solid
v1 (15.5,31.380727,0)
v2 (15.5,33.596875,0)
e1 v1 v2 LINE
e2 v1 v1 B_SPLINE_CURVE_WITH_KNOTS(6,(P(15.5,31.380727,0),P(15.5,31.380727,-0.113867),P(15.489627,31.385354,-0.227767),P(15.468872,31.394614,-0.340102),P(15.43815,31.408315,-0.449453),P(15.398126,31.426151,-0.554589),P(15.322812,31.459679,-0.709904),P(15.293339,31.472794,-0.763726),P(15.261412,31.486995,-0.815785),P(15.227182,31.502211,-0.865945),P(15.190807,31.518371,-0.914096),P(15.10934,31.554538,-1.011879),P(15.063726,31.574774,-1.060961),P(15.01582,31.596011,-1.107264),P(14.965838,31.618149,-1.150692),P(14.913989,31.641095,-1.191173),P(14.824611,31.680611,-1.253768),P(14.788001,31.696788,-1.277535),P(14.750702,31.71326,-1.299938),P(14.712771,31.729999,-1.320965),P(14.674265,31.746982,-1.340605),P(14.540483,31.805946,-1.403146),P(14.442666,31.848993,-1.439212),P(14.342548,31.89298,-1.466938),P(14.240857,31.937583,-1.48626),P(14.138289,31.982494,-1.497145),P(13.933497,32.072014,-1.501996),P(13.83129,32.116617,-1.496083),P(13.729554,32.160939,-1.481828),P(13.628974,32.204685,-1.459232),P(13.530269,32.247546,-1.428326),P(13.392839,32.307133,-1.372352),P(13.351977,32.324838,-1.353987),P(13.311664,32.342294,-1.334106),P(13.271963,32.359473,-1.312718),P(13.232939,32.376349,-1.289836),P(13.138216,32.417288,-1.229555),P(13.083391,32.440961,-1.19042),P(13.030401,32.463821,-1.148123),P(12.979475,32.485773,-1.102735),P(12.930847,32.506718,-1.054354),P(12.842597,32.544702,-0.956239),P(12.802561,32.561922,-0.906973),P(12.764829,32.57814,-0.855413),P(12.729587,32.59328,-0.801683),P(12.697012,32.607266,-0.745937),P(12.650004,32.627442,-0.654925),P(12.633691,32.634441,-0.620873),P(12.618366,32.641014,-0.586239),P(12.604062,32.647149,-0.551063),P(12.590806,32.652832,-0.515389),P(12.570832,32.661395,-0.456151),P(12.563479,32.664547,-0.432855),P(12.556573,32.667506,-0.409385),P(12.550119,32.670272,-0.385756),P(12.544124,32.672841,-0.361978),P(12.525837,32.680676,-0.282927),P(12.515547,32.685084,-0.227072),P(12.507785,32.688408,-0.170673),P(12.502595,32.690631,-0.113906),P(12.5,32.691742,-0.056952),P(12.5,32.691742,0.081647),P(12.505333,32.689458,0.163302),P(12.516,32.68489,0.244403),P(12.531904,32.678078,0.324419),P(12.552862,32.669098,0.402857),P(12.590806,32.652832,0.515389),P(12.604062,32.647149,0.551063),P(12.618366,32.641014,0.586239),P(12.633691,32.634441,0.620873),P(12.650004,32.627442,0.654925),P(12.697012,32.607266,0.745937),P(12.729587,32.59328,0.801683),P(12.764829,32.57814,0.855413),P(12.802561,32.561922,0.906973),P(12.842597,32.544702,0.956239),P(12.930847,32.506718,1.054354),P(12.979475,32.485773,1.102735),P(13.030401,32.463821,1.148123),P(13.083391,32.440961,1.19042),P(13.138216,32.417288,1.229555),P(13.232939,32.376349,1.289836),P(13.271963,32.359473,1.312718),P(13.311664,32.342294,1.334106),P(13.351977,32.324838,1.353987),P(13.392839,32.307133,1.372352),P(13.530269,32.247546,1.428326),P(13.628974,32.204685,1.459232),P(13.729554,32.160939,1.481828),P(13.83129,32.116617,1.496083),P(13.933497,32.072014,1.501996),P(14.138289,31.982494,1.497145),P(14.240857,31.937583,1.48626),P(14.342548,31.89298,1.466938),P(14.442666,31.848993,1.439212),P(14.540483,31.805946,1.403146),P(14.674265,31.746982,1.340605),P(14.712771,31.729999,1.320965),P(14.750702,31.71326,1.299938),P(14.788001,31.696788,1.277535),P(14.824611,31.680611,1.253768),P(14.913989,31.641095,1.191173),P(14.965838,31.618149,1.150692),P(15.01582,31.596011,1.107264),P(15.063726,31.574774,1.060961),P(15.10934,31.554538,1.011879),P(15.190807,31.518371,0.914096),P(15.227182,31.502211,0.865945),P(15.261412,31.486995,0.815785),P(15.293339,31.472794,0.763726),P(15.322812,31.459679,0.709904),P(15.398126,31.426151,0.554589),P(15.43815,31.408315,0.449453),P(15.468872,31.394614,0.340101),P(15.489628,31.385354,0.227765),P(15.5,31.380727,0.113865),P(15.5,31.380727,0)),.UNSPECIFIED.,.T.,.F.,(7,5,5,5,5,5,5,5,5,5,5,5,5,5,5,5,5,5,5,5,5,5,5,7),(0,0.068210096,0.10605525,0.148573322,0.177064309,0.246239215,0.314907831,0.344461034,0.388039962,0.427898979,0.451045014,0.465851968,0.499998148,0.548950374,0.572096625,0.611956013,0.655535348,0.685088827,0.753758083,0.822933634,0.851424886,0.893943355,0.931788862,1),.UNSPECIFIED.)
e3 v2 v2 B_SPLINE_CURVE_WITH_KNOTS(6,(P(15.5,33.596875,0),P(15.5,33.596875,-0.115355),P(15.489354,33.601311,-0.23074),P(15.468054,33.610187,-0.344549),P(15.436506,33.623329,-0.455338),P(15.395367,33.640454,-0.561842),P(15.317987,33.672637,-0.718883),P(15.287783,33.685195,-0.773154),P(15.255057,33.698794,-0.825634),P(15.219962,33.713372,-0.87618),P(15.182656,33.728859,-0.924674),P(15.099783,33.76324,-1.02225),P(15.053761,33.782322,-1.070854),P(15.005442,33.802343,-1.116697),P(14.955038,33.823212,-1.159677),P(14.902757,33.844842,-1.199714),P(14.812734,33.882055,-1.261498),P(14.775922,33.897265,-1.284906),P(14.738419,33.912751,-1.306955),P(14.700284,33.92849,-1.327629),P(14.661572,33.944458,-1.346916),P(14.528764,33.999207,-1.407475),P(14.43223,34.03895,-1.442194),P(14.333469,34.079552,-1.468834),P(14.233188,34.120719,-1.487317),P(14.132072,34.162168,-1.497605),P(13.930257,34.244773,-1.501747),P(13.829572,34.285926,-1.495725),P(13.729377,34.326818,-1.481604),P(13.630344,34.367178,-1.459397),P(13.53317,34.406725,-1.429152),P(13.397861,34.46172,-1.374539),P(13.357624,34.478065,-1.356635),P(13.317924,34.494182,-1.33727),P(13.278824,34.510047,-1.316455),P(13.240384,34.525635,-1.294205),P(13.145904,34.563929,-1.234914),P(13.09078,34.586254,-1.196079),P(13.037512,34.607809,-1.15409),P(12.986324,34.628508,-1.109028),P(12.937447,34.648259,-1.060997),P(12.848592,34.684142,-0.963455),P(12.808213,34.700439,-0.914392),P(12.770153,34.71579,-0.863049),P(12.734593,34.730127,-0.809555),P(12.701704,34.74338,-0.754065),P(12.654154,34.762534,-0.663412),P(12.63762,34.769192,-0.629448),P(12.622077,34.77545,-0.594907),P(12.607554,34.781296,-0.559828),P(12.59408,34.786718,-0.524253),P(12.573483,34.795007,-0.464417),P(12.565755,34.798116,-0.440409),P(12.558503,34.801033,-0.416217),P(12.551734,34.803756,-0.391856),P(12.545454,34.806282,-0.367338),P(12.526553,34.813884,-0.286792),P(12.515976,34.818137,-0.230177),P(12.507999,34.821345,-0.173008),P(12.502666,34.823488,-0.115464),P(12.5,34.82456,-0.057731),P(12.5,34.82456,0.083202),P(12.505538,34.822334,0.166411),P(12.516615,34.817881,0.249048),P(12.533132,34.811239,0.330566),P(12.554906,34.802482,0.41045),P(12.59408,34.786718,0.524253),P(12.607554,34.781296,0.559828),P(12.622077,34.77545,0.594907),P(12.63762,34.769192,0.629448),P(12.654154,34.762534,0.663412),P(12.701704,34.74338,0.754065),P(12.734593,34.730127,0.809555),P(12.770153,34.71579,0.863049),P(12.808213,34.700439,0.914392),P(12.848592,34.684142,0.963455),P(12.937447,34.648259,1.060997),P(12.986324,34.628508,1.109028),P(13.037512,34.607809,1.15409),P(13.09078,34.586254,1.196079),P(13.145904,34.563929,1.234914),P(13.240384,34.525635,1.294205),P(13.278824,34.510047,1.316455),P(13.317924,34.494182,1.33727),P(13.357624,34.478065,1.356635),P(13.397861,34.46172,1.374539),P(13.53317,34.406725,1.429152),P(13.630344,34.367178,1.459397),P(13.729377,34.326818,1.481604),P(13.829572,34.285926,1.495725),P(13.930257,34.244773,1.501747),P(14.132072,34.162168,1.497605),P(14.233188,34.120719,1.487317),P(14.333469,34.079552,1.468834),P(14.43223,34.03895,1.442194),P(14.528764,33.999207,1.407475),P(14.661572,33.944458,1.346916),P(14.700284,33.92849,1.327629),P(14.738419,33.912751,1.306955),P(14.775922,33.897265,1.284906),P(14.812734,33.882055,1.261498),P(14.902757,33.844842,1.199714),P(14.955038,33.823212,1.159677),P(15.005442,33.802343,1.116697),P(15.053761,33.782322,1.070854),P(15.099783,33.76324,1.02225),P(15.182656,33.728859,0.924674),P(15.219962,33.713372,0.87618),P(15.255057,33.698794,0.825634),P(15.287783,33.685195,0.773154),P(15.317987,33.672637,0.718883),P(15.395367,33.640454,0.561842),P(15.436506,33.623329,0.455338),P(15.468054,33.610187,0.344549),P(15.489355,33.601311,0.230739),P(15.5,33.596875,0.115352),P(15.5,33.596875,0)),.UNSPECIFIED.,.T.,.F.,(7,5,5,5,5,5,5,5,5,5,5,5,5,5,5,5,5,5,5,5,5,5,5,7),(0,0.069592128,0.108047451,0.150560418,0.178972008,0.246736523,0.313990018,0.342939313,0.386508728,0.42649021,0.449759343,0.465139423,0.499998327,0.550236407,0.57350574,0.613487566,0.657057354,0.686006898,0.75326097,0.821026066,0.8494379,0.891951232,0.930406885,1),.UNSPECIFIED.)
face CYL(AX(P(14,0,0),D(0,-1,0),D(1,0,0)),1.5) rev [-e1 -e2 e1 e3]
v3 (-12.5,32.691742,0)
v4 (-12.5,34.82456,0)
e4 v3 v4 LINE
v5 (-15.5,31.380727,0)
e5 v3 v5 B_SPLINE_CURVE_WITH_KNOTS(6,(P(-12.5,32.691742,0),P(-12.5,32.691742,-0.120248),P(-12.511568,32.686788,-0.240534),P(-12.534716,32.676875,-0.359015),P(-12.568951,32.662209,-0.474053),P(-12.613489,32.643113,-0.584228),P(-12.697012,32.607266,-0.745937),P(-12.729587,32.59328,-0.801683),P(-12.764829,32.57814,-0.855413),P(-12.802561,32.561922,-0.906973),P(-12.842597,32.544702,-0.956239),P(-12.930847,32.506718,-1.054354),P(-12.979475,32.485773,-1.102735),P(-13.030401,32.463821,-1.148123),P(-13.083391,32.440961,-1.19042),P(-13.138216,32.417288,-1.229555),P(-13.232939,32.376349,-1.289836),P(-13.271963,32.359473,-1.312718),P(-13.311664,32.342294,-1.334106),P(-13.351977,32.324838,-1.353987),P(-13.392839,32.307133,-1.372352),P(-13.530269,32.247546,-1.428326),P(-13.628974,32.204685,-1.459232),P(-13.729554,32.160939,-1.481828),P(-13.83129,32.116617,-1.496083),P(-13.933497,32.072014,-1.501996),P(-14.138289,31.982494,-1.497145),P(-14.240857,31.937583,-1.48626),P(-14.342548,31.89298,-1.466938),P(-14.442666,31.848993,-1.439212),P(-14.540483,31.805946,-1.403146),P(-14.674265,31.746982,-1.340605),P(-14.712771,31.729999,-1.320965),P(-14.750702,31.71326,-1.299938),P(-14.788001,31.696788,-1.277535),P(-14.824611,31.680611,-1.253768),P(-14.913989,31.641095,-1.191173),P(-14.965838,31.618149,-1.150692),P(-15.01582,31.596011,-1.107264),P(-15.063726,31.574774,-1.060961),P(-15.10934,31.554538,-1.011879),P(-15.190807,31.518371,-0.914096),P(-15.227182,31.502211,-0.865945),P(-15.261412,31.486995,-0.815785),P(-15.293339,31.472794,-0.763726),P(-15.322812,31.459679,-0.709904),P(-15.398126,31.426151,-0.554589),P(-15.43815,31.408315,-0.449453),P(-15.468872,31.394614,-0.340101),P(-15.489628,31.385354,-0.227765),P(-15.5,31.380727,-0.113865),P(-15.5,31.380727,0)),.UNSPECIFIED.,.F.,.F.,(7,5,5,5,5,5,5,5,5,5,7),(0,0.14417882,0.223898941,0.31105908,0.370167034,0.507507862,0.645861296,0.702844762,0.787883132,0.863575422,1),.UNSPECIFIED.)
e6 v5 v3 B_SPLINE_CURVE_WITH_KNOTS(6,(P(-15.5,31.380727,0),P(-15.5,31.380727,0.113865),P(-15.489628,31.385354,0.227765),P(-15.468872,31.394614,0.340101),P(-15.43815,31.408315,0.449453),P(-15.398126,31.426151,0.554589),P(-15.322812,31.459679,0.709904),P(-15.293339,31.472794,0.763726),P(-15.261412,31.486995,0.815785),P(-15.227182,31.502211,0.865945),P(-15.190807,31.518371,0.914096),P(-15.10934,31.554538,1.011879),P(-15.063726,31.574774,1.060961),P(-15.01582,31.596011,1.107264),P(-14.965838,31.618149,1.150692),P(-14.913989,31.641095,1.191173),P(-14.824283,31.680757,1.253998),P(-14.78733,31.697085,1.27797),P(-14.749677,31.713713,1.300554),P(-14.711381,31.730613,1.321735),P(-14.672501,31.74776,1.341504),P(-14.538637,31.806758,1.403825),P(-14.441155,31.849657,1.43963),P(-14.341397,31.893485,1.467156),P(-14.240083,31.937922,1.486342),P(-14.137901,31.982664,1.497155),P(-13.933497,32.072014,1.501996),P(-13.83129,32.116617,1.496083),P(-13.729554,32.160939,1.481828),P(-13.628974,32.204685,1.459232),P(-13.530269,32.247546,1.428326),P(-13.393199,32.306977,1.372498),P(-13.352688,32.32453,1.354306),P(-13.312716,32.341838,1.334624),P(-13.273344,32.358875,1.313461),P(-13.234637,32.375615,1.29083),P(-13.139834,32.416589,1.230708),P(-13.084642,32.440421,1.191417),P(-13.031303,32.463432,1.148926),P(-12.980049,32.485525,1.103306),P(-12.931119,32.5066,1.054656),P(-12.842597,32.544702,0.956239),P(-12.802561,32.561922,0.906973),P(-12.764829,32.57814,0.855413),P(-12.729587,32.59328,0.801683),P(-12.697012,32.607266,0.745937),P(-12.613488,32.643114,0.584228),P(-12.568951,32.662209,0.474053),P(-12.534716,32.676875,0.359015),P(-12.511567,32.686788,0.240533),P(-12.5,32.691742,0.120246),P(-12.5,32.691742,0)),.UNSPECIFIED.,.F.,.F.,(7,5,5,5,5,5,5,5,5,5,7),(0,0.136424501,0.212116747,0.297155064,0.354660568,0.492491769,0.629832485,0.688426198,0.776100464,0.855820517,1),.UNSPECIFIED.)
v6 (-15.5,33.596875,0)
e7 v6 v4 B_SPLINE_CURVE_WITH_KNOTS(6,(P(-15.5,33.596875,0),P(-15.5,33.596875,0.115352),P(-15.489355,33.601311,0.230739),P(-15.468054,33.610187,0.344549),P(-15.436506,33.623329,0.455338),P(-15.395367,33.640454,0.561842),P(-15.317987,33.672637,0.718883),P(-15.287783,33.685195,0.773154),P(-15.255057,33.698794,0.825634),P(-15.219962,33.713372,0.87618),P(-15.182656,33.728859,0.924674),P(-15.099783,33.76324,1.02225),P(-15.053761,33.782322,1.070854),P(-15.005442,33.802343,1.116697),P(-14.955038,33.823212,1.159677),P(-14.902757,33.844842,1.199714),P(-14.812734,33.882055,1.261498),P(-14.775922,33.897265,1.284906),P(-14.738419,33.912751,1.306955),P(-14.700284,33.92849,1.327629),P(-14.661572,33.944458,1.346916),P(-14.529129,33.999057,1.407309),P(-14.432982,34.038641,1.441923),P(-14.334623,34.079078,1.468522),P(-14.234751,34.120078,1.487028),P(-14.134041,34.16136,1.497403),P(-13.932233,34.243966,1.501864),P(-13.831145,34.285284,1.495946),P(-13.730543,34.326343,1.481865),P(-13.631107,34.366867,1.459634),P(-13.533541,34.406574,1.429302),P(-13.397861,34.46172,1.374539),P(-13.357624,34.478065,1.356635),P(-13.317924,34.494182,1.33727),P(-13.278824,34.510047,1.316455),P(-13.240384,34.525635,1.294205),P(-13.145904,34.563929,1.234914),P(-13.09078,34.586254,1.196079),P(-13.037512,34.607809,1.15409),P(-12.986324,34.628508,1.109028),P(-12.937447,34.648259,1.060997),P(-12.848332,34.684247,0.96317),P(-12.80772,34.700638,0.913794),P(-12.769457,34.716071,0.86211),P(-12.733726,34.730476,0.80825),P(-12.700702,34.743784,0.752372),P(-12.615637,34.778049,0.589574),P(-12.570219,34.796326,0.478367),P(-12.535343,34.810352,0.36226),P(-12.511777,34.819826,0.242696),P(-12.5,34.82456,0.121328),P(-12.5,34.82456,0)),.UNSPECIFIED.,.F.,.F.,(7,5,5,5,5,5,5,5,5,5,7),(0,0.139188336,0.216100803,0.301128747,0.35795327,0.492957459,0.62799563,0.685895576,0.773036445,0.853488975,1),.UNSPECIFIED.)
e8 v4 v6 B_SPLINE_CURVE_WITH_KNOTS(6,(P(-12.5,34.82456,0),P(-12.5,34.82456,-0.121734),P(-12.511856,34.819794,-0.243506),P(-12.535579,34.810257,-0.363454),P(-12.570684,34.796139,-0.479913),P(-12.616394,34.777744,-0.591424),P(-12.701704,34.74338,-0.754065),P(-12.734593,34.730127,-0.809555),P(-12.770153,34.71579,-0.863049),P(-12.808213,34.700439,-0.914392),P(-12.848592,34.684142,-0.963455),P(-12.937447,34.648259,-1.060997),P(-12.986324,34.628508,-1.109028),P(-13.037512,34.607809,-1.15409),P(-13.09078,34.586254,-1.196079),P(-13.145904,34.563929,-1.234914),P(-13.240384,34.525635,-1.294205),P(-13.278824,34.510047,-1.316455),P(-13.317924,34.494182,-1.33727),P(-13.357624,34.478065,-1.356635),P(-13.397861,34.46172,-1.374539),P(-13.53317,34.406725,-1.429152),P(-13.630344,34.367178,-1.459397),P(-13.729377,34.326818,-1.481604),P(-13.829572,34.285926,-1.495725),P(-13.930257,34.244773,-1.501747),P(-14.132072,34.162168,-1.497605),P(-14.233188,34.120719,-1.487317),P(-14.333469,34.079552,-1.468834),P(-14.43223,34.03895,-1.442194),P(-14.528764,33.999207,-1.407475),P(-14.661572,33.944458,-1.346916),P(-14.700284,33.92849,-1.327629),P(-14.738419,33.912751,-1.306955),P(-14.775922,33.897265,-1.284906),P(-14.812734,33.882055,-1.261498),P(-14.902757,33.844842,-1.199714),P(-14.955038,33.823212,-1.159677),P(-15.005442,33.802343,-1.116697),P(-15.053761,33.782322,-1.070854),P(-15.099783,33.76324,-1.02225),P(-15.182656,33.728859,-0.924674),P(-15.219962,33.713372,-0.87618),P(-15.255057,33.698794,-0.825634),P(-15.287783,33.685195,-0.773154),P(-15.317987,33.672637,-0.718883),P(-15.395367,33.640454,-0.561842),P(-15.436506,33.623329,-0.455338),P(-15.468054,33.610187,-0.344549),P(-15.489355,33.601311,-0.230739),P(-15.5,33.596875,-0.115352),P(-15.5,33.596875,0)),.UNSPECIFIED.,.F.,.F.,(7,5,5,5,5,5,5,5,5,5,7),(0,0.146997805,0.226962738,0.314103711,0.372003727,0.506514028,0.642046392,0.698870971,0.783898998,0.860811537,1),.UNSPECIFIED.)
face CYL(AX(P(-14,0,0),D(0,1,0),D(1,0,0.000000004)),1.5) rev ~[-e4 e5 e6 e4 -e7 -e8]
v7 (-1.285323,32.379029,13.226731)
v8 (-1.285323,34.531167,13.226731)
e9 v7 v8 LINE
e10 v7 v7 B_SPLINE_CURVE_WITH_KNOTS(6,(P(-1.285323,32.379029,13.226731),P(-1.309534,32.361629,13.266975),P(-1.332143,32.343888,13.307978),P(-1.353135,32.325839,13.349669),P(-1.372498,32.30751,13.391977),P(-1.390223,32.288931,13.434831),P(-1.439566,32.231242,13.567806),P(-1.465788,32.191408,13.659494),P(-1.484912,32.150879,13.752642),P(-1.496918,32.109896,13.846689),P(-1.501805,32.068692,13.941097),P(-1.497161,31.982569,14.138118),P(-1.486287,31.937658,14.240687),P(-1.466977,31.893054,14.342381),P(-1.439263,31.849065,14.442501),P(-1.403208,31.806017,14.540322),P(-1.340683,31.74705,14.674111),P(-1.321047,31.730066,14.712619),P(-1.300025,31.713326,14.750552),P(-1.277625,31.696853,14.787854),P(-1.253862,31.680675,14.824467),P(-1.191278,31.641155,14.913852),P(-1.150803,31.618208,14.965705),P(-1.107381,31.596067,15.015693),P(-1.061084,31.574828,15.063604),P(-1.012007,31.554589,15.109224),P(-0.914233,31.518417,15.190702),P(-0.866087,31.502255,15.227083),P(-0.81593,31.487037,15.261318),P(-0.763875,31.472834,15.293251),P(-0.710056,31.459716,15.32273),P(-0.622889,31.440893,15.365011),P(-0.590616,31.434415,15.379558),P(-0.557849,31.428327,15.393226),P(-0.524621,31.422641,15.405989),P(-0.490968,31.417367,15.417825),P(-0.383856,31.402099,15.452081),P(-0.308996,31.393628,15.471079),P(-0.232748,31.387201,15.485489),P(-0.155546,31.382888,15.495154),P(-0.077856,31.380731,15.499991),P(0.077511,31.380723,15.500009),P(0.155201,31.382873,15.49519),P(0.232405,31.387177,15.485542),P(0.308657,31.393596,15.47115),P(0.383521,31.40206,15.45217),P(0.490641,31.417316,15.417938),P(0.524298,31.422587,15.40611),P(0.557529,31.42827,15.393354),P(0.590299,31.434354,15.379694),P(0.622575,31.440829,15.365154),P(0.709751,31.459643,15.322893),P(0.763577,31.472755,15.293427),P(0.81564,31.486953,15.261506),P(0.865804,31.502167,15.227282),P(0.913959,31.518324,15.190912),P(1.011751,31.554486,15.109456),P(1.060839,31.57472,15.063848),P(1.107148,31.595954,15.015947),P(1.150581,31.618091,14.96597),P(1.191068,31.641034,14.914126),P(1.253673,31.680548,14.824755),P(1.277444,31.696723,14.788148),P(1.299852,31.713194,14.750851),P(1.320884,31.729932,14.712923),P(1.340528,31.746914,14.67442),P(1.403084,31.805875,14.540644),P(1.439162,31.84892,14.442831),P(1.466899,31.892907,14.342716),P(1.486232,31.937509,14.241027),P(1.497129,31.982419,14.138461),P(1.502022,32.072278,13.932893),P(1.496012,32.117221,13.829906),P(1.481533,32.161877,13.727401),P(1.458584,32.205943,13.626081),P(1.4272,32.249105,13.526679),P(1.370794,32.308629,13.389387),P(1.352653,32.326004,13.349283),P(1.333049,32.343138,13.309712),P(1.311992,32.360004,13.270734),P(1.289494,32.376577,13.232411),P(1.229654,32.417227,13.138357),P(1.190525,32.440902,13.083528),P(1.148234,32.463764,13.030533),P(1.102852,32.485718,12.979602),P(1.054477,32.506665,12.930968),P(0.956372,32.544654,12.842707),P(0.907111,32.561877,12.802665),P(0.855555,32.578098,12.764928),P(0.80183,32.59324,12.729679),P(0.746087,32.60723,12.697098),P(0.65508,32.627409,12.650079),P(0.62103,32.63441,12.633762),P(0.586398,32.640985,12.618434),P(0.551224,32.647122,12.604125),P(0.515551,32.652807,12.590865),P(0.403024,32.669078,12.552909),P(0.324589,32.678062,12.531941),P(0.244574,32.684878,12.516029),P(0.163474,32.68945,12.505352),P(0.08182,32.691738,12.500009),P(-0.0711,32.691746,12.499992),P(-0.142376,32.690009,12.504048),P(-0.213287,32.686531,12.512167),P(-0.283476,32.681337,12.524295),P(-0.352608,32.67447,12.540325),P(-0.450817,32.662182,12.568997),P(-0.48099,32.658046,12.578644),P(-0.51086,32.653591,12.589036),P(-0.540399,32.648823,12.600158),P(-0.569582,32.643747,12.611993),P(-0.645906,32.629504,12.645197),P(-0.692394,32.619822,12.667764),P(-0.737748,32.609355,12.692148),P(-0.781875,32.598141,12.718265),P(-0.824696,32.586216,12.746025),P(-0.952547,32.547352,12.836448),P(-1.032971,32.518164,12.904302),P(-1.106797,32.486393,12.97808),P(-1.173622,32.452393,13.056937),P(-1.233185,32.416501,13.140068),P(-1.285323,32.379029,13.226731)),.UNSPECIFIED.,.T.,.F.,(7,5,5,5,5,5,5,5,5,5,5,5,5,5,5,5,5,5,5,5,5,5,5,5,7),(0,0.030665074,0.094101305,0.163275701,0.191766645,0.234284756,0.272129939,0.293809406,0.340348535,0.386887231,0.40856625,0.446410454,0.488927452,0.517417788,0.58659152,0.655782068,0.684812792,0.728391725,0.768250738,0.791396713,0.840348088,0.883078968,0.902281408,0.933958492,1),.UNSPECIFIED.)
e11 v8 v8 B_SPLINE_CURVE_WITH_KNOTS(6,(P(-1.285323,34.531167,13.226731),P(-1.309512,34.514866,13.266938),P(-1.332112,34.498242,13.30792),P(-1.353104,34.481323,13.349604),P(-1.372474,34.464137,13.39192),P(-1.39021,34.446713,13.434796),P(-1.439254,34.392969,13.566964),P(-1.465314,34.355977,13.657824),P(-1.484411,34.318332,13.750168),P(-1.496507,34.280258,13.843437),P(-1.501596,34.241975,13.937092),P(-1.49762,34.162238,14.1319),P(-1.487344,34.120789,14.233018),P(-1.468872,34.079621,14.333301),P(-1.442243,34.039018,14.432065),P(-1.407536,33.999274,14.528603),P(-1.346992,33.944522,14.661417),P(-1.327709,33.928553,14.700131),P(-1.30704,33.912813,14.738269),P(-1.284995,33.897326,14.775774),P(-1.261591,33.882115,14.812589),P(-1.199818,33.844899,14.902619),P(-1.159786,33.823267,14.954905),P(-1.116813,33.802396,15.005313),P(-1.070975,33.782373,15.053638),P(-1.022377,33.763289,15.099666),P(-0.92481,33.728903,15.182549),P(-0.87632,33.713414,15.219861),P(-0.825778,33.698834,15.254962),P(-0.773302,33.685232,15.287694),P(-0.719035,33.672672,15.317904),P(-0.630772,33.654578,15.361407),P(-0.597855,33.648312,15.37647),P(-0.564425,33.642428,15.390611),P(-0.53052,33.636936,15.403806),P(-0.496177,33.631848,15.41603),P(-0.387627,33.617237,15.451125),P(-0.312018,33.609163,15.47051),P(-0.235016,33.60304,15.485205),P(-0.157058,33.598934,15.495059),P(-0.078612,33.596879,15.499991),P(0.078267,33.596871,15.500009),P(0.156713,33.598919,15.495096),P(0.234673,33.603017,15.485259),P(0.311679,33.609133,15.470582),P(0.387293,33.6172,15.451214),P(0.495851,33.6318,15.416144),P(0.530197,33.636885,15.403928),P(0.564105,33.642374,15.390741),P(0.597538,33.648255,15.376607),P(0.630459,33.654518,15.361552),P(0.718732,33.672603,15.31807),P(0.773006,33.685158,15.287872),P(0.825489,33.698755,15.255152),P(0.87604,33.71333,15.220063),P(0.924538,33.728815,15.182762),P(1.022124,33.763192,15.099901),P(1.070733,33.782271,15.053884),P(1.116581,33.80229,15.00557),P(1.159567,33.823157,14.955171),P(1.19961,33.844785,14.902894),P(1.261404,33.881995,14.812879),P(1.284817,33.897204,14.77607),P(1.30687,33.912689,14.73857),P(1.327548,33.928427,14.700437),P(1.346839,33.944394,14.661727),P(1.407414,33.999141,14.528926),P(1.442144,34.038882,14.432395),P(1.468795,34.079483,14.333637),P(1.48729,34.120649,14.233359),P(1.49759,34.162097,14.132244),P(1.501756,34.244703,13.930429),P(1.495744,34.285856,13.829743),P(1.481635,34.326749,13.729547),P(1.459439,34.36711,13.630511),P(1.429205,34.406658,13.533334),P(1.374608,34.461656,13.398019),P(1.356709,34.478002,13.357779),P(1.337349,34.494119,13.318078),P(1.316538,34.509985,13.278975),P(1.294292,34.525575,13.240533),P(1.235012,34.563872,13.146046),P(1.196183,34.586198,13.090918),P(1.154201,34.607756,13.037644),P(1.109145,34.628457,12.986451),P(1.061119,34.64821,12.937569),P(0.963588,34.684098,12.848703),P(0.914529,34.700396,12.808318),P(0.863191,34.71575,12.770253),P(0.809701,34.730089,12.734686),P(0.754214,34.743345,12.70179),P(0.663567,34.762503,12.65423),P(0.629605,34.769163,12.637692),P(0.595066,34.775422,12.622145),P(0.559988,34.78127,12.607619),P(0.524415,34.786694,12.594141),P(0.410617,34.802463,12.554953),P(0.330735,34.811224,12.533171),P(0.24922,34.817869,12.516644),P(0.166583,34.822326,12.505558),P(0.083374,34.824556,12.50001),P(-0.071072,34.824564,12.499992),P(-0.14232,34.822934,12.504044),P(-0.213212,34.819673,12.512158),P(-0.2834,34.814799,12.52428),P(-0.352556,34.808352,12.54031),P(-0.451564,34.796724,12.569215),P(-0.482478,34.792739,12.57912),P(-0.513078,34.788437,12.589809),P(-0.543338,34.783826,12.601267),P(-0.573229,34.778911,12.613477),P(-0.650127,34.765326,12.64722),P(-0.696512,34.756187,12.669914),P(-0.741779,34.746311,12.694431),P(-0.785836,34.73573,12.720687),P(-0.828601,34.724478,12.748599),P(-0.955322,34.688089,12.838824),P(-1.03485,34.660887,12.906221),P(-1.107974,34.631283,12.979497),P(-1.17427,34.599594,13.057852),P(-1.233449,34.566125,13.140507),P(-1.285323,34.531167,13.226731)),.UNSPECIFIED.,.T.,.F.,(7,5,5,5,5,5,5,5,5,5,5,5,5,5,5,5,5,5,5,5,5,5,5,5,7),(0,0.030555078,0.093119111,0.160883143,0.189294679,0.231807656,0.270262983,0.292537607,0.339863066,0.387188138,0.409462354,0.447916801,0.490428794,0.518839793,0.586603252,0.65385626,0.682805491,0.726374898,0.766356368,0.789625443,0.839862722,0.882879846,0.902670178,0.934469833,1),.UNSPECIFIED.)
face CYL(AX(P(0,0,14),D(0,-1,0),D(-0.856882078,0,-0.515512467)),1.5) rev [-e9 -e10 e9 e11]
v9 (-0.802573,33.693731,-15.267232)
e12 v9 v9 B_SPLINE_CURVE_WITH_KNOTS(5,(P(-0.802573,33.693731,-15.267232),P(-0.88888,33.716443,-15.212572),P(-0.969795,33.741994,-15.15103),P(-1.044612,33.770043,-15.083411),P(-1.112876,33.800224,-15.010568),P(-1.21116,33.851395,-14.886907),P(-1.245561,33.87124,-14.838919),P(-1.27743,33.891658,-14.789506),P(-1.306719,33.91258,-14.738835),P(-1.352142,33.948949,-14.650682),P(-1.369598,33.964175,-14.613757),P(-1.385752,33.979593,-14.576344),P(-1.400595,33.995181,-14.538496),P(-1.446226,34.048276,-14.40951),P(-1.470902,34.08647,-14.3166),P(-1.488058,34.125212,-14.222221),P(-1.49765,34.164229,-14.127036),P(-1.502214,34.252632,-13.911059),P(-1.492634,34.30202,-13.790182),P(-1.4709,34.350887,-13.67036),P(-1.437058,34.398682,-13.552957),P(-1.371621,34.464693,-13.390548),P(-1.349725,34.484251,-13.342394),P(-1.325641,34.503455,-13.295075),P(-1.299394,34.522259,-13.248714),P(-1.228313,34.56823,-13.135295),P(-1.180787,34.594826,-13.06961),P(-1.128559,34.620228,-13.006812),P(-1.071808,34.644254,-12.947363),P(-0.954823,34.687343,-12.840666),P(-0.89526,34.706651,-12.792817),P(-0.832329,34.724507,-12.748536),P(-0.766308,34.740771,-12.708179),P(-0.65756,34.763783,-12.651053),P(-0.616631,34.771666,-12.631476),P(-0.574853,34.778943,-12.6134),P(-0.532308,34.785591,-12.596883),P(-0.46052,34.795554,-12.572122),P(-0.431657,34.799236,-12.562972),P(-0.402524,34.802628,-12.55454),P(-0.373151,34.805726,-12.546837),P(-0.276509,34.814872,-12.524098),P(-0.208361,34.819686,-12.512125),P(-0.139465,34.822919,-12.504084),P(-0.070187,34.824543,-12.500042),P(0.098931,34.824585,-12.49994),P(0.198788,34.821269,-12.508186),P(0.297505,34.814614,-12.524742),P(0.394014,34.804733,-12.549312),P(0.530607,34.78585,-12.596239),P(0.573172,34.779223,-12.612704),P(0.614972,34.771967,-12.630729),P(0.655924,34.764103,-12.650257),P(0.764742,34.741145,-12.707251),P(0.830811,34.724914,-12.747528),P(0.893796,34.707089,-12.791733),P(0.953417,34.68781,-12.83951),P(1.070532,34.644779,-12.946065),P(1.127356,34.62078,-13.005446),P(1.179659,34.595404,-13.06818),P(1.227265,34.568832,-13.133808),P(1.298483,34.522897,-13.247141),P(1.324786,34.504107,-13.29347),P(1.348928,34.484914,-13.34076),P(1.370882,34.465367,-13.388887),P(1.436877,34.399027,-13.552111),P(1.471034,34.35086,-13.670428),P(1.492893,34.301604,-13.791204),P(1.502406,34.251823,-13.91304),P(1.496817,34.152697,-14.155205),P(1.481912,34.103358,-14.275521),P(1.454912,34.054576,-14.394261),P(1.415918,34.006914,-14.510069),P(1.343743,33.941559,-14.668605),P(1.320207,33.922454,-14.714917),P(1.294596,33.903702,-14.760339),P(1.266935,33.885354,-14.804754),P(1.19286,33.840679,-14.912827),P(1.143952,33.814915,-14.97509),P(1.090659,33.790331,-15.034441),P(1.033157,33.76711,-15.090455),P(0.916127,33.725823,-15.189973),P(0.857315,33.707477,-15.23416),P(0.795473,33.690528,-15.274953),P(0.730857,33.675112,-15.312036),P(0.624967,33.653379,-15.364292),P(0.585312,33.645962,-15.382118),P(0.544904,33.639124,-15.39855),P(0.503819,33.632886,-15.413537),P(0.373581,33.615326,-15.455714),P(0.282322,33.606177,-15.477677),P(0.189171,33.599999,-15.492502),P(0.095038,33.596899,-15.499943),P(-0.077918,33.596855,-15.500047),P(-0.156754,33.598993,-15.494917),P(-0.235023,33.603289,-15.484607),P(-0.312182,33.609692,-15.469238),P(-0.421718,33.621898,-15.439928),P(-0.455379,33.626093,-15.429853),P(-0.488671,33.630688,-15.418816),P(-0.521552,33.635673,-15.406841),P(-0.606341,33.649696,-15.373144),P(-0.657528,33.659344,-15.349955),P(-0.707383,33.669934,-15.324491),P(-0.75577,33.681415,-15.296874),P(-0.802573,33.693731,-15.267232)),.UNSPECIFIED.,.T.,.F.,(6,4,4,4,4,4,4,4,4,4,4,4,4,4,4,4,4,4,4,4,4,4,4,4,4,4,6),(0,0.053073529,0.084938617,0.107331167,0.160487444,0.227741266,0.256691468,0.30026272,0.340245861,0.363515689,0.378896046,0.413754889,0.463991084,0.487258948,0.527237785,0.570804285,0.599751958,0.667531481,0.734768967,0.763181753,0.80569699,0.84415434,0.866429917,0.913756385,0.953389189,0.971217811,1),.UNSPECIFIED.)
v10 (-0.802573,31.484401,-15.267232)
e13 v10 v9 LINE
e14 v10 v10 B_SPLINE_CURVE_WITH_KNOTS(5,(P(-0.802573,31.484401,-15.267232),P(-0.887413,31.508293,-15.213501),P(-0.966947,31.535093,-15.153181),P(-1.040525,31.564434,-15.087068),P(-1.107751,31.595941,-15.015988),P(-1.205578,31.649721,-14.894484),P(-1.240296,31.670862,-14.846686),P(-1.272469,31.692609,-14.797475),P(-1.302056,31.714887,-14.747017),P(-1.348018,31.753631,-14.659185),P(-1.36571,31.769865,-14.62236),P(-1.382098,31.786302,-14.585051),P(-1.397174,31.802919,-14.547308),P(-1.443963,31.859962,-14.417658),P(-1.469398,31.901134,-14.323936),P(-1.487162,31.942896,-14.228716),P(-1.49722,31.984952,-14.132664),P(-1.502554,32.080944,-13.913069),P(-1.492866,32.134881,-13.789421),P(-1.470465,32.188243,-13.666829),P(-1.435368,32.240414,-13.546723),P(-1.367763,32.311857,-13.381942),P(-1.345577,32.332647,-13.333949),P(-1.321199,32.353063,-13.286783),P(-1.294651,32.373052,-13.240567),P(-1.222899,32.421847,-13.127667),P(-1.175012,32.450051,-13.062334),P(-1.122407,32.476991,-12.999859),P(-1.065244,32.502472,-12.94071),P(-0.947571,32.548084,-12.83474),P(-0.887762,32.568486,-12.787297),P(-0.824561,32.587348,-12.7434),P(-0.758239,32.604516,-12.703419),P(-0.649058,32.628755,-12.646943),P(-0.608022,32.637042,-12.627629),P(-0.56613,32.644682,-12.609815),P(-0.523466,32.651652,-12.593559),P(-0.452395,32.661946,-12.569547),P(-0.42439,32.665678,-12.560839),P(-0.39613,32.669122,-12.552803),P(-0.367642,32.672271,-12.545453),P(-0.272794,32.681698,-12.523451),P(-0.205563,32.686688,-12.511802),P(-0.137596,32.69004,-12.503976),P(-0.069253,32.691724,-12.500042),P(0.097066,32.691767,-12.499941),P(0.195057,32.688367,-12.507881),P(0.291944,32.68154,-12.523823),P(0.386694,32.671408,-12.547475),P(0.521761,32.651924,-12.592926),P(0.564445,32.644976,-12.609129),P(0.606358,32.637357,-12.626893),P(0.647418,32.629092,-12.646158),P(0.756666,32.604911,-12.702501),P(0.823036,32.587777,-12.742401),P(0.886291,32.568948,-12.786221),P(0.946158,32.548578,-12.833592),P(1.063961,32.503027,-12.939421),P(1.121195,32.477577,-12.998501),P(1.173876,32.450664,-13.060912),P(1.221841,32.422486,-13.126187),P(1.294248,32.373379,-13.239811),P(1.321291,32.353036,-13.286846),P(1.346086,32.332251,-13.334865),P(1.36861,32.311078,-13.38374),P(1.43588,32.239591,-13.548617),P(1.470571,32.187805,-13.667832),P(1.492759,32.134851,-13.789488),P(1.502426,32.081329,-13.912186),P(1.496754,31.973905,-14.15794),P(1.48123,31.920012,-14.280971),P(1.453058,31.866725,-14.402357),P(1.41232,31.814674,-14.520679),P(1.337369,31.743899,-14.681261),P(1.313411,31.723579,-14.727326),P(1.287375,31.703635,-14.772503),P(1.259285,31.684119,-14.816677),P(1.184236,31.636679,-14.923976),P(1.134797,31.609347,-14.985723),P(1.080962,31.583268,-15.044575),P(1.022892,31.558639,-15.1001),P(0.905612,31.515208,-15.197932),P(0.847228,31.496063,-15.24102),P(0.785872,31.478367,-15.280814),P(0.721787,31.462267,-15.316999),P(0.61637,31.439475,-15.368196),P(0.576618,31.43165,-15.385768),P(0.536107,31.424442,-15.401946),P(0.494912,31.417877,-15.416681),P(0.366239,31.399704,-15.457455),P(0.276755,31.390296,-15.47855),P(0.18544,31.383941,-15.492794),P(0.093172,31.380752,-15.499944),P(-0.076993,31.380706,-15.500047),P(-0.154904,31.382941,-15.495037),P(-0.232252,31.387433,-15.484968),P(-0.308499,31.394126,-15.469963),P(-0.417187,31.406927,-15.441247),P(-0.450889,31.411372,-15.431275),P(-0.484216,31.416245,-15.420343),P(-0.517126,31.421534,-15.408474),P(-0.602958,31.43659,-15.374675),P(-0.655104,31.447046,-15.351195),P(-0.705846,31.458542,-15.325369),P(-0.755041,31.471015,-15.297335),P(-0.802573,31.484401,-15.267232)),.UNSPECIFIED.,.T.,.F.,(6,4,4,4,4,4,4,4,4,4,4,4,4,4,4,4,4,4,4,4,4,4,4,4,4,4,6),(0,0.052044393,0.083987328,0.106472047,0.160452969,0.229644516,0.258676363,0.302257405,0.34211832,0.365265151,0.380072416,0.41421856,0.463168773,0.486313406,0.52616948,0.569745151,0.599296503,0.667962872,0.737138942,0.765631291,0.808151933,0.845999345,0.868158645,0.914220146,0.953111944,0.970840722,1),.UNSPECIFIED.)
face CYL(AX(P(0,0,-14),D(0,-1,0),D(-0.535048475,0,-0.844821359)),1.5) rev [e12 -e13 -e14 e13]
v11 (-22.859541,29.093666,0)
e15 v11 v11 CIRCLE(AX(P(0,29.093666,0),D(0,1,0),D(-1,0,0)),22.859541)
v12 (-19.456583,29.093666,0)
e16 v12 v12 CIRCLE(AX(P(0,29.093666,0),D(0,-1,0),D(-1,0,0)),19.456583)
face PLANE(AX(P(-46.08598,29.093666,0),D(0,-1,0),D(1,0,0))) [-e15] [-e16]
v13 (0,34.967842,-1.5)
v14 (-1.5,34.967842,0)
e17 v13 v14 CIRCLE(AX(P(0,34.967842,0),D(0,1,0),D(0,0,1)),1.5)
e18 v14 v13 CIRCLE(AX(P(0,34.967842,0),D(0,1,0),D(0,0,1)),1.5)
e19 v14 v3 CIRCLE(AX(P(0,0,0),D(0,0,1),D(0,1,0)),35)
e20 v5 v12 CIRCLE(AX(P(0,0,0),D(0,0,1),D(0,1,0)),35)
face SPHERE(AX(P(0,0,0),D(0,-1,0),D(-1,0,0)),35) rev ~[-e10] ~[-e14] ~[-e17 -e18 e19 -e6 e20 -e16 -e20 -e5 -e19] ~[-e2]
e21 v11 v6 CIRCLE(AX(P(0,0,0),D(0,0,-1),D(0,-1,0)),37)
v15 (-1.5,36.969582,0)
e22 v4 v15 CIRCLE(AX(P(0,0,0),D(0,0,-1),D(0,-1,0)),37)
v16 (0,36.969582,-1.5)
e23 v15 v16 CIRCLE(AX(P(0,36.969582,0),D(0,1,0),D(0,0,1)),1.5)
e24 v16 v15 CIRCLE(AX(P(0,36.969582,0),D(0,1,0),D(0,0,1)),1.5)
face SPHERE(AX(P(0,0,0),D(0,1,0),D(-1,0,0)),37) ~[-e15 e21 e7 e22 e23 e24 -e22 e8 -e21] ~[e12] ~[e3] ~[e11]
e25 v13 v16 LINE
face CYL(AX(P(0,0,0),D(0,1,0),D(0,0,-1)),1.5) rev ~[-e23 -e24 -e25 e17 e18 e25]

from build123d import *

# Parameters (mm, degrees)
SKETCH3_W          = 96.508277199
SKETCH3_H          = 68.977702825
CUT_EXTRUDE1_DEPTH = 100
SKETCH5_R          = 1.5
CUT_EXTRUDE2_DEPTH = 100
SKETCH6_R          = 1.5
CUT_EXTRUDE3_DEPTH = 100


with BuildPart() as part:
    # Sketch1 → Revolve1 (revolve)
    with BuildSketch(Plane.XY):
        with BuildLine():
            Line((0, 37), (0, 0))
            Line((0, 0), (0, -37))
            ThreePointArc((0, -37), (-37, 0), (0, 37))
        make_face()
    revolve(axis=Axis((0, 51.787709497, 0), (0, -1, 0)))

    # Sketch3 → Cut-Extrude1 (cut, symmetric)
    with BuildSketch(Plane.XY):
        with Locations((2.168158787, -5.395185821)):
            Rectangle(SKETCH3_W, SKETCH3_H)
    extrude(amount=CUT_EXTRUDE1_DEPTH, both=True, mode=Mode.SUBTRACT)

    # Sketch4 → Cut-Revolve1 (revolve, cut)
    with BuildSketch(Plane.XY):
        with BuildLine():
            Line((0, 0), (0, 35))
            ThreePointArc((0, 35), (-35, 0), (0, -35))
            Line((0, -35), (0, 0))
        make_face()
    revolve(axis=Axis((0, 39.939026177, 0), (0, -1, 0)), mode=Mode.SUBTRACT)

    # Sketch5 → Cut-Extrude2 (cut, symmetric)
    with BuildSketch(Plane(origin=(0, 0, 0), x_dir=(1, 0, 0), z_dir=(0, 1, 0))):
        with Locations(Location((0, 14, 0), (0, 0, 122.347198926))):
            Circle(SKETCH5_R)
        with Locations((14, 0)):
            Circle(SKETCH5_R)
        with Locations(Location((0, -14, 0), (0, 0, 148.968284828))):
            Circle(SKETCH5_R)
        with Locations(Location((-14, 0, 0), (0, 0, 359.999999797))):
            Circle(SKETCH5_R)
    extrude(amount=CUT_EXTRUDE2_DEPTH, both=True, mode=Mode.SUBTRACT)

    # Sketch6 → Cut-Extrude3 (cut, symmetric)
    with BuildSketch(Plane(origin=(0, 0, 0), x_dir=(1, 0, 0), z_dir=(0, 1, 0))):
        with Locations(Location((0, 0, 0), (0, 0, 90))):
            Circle(SKETCH6_R)
    extrude(amount=CUT_EXTRUDE3_DEPTH, both=True, mode=Mode.SUBTRACT)


solid = part.part
